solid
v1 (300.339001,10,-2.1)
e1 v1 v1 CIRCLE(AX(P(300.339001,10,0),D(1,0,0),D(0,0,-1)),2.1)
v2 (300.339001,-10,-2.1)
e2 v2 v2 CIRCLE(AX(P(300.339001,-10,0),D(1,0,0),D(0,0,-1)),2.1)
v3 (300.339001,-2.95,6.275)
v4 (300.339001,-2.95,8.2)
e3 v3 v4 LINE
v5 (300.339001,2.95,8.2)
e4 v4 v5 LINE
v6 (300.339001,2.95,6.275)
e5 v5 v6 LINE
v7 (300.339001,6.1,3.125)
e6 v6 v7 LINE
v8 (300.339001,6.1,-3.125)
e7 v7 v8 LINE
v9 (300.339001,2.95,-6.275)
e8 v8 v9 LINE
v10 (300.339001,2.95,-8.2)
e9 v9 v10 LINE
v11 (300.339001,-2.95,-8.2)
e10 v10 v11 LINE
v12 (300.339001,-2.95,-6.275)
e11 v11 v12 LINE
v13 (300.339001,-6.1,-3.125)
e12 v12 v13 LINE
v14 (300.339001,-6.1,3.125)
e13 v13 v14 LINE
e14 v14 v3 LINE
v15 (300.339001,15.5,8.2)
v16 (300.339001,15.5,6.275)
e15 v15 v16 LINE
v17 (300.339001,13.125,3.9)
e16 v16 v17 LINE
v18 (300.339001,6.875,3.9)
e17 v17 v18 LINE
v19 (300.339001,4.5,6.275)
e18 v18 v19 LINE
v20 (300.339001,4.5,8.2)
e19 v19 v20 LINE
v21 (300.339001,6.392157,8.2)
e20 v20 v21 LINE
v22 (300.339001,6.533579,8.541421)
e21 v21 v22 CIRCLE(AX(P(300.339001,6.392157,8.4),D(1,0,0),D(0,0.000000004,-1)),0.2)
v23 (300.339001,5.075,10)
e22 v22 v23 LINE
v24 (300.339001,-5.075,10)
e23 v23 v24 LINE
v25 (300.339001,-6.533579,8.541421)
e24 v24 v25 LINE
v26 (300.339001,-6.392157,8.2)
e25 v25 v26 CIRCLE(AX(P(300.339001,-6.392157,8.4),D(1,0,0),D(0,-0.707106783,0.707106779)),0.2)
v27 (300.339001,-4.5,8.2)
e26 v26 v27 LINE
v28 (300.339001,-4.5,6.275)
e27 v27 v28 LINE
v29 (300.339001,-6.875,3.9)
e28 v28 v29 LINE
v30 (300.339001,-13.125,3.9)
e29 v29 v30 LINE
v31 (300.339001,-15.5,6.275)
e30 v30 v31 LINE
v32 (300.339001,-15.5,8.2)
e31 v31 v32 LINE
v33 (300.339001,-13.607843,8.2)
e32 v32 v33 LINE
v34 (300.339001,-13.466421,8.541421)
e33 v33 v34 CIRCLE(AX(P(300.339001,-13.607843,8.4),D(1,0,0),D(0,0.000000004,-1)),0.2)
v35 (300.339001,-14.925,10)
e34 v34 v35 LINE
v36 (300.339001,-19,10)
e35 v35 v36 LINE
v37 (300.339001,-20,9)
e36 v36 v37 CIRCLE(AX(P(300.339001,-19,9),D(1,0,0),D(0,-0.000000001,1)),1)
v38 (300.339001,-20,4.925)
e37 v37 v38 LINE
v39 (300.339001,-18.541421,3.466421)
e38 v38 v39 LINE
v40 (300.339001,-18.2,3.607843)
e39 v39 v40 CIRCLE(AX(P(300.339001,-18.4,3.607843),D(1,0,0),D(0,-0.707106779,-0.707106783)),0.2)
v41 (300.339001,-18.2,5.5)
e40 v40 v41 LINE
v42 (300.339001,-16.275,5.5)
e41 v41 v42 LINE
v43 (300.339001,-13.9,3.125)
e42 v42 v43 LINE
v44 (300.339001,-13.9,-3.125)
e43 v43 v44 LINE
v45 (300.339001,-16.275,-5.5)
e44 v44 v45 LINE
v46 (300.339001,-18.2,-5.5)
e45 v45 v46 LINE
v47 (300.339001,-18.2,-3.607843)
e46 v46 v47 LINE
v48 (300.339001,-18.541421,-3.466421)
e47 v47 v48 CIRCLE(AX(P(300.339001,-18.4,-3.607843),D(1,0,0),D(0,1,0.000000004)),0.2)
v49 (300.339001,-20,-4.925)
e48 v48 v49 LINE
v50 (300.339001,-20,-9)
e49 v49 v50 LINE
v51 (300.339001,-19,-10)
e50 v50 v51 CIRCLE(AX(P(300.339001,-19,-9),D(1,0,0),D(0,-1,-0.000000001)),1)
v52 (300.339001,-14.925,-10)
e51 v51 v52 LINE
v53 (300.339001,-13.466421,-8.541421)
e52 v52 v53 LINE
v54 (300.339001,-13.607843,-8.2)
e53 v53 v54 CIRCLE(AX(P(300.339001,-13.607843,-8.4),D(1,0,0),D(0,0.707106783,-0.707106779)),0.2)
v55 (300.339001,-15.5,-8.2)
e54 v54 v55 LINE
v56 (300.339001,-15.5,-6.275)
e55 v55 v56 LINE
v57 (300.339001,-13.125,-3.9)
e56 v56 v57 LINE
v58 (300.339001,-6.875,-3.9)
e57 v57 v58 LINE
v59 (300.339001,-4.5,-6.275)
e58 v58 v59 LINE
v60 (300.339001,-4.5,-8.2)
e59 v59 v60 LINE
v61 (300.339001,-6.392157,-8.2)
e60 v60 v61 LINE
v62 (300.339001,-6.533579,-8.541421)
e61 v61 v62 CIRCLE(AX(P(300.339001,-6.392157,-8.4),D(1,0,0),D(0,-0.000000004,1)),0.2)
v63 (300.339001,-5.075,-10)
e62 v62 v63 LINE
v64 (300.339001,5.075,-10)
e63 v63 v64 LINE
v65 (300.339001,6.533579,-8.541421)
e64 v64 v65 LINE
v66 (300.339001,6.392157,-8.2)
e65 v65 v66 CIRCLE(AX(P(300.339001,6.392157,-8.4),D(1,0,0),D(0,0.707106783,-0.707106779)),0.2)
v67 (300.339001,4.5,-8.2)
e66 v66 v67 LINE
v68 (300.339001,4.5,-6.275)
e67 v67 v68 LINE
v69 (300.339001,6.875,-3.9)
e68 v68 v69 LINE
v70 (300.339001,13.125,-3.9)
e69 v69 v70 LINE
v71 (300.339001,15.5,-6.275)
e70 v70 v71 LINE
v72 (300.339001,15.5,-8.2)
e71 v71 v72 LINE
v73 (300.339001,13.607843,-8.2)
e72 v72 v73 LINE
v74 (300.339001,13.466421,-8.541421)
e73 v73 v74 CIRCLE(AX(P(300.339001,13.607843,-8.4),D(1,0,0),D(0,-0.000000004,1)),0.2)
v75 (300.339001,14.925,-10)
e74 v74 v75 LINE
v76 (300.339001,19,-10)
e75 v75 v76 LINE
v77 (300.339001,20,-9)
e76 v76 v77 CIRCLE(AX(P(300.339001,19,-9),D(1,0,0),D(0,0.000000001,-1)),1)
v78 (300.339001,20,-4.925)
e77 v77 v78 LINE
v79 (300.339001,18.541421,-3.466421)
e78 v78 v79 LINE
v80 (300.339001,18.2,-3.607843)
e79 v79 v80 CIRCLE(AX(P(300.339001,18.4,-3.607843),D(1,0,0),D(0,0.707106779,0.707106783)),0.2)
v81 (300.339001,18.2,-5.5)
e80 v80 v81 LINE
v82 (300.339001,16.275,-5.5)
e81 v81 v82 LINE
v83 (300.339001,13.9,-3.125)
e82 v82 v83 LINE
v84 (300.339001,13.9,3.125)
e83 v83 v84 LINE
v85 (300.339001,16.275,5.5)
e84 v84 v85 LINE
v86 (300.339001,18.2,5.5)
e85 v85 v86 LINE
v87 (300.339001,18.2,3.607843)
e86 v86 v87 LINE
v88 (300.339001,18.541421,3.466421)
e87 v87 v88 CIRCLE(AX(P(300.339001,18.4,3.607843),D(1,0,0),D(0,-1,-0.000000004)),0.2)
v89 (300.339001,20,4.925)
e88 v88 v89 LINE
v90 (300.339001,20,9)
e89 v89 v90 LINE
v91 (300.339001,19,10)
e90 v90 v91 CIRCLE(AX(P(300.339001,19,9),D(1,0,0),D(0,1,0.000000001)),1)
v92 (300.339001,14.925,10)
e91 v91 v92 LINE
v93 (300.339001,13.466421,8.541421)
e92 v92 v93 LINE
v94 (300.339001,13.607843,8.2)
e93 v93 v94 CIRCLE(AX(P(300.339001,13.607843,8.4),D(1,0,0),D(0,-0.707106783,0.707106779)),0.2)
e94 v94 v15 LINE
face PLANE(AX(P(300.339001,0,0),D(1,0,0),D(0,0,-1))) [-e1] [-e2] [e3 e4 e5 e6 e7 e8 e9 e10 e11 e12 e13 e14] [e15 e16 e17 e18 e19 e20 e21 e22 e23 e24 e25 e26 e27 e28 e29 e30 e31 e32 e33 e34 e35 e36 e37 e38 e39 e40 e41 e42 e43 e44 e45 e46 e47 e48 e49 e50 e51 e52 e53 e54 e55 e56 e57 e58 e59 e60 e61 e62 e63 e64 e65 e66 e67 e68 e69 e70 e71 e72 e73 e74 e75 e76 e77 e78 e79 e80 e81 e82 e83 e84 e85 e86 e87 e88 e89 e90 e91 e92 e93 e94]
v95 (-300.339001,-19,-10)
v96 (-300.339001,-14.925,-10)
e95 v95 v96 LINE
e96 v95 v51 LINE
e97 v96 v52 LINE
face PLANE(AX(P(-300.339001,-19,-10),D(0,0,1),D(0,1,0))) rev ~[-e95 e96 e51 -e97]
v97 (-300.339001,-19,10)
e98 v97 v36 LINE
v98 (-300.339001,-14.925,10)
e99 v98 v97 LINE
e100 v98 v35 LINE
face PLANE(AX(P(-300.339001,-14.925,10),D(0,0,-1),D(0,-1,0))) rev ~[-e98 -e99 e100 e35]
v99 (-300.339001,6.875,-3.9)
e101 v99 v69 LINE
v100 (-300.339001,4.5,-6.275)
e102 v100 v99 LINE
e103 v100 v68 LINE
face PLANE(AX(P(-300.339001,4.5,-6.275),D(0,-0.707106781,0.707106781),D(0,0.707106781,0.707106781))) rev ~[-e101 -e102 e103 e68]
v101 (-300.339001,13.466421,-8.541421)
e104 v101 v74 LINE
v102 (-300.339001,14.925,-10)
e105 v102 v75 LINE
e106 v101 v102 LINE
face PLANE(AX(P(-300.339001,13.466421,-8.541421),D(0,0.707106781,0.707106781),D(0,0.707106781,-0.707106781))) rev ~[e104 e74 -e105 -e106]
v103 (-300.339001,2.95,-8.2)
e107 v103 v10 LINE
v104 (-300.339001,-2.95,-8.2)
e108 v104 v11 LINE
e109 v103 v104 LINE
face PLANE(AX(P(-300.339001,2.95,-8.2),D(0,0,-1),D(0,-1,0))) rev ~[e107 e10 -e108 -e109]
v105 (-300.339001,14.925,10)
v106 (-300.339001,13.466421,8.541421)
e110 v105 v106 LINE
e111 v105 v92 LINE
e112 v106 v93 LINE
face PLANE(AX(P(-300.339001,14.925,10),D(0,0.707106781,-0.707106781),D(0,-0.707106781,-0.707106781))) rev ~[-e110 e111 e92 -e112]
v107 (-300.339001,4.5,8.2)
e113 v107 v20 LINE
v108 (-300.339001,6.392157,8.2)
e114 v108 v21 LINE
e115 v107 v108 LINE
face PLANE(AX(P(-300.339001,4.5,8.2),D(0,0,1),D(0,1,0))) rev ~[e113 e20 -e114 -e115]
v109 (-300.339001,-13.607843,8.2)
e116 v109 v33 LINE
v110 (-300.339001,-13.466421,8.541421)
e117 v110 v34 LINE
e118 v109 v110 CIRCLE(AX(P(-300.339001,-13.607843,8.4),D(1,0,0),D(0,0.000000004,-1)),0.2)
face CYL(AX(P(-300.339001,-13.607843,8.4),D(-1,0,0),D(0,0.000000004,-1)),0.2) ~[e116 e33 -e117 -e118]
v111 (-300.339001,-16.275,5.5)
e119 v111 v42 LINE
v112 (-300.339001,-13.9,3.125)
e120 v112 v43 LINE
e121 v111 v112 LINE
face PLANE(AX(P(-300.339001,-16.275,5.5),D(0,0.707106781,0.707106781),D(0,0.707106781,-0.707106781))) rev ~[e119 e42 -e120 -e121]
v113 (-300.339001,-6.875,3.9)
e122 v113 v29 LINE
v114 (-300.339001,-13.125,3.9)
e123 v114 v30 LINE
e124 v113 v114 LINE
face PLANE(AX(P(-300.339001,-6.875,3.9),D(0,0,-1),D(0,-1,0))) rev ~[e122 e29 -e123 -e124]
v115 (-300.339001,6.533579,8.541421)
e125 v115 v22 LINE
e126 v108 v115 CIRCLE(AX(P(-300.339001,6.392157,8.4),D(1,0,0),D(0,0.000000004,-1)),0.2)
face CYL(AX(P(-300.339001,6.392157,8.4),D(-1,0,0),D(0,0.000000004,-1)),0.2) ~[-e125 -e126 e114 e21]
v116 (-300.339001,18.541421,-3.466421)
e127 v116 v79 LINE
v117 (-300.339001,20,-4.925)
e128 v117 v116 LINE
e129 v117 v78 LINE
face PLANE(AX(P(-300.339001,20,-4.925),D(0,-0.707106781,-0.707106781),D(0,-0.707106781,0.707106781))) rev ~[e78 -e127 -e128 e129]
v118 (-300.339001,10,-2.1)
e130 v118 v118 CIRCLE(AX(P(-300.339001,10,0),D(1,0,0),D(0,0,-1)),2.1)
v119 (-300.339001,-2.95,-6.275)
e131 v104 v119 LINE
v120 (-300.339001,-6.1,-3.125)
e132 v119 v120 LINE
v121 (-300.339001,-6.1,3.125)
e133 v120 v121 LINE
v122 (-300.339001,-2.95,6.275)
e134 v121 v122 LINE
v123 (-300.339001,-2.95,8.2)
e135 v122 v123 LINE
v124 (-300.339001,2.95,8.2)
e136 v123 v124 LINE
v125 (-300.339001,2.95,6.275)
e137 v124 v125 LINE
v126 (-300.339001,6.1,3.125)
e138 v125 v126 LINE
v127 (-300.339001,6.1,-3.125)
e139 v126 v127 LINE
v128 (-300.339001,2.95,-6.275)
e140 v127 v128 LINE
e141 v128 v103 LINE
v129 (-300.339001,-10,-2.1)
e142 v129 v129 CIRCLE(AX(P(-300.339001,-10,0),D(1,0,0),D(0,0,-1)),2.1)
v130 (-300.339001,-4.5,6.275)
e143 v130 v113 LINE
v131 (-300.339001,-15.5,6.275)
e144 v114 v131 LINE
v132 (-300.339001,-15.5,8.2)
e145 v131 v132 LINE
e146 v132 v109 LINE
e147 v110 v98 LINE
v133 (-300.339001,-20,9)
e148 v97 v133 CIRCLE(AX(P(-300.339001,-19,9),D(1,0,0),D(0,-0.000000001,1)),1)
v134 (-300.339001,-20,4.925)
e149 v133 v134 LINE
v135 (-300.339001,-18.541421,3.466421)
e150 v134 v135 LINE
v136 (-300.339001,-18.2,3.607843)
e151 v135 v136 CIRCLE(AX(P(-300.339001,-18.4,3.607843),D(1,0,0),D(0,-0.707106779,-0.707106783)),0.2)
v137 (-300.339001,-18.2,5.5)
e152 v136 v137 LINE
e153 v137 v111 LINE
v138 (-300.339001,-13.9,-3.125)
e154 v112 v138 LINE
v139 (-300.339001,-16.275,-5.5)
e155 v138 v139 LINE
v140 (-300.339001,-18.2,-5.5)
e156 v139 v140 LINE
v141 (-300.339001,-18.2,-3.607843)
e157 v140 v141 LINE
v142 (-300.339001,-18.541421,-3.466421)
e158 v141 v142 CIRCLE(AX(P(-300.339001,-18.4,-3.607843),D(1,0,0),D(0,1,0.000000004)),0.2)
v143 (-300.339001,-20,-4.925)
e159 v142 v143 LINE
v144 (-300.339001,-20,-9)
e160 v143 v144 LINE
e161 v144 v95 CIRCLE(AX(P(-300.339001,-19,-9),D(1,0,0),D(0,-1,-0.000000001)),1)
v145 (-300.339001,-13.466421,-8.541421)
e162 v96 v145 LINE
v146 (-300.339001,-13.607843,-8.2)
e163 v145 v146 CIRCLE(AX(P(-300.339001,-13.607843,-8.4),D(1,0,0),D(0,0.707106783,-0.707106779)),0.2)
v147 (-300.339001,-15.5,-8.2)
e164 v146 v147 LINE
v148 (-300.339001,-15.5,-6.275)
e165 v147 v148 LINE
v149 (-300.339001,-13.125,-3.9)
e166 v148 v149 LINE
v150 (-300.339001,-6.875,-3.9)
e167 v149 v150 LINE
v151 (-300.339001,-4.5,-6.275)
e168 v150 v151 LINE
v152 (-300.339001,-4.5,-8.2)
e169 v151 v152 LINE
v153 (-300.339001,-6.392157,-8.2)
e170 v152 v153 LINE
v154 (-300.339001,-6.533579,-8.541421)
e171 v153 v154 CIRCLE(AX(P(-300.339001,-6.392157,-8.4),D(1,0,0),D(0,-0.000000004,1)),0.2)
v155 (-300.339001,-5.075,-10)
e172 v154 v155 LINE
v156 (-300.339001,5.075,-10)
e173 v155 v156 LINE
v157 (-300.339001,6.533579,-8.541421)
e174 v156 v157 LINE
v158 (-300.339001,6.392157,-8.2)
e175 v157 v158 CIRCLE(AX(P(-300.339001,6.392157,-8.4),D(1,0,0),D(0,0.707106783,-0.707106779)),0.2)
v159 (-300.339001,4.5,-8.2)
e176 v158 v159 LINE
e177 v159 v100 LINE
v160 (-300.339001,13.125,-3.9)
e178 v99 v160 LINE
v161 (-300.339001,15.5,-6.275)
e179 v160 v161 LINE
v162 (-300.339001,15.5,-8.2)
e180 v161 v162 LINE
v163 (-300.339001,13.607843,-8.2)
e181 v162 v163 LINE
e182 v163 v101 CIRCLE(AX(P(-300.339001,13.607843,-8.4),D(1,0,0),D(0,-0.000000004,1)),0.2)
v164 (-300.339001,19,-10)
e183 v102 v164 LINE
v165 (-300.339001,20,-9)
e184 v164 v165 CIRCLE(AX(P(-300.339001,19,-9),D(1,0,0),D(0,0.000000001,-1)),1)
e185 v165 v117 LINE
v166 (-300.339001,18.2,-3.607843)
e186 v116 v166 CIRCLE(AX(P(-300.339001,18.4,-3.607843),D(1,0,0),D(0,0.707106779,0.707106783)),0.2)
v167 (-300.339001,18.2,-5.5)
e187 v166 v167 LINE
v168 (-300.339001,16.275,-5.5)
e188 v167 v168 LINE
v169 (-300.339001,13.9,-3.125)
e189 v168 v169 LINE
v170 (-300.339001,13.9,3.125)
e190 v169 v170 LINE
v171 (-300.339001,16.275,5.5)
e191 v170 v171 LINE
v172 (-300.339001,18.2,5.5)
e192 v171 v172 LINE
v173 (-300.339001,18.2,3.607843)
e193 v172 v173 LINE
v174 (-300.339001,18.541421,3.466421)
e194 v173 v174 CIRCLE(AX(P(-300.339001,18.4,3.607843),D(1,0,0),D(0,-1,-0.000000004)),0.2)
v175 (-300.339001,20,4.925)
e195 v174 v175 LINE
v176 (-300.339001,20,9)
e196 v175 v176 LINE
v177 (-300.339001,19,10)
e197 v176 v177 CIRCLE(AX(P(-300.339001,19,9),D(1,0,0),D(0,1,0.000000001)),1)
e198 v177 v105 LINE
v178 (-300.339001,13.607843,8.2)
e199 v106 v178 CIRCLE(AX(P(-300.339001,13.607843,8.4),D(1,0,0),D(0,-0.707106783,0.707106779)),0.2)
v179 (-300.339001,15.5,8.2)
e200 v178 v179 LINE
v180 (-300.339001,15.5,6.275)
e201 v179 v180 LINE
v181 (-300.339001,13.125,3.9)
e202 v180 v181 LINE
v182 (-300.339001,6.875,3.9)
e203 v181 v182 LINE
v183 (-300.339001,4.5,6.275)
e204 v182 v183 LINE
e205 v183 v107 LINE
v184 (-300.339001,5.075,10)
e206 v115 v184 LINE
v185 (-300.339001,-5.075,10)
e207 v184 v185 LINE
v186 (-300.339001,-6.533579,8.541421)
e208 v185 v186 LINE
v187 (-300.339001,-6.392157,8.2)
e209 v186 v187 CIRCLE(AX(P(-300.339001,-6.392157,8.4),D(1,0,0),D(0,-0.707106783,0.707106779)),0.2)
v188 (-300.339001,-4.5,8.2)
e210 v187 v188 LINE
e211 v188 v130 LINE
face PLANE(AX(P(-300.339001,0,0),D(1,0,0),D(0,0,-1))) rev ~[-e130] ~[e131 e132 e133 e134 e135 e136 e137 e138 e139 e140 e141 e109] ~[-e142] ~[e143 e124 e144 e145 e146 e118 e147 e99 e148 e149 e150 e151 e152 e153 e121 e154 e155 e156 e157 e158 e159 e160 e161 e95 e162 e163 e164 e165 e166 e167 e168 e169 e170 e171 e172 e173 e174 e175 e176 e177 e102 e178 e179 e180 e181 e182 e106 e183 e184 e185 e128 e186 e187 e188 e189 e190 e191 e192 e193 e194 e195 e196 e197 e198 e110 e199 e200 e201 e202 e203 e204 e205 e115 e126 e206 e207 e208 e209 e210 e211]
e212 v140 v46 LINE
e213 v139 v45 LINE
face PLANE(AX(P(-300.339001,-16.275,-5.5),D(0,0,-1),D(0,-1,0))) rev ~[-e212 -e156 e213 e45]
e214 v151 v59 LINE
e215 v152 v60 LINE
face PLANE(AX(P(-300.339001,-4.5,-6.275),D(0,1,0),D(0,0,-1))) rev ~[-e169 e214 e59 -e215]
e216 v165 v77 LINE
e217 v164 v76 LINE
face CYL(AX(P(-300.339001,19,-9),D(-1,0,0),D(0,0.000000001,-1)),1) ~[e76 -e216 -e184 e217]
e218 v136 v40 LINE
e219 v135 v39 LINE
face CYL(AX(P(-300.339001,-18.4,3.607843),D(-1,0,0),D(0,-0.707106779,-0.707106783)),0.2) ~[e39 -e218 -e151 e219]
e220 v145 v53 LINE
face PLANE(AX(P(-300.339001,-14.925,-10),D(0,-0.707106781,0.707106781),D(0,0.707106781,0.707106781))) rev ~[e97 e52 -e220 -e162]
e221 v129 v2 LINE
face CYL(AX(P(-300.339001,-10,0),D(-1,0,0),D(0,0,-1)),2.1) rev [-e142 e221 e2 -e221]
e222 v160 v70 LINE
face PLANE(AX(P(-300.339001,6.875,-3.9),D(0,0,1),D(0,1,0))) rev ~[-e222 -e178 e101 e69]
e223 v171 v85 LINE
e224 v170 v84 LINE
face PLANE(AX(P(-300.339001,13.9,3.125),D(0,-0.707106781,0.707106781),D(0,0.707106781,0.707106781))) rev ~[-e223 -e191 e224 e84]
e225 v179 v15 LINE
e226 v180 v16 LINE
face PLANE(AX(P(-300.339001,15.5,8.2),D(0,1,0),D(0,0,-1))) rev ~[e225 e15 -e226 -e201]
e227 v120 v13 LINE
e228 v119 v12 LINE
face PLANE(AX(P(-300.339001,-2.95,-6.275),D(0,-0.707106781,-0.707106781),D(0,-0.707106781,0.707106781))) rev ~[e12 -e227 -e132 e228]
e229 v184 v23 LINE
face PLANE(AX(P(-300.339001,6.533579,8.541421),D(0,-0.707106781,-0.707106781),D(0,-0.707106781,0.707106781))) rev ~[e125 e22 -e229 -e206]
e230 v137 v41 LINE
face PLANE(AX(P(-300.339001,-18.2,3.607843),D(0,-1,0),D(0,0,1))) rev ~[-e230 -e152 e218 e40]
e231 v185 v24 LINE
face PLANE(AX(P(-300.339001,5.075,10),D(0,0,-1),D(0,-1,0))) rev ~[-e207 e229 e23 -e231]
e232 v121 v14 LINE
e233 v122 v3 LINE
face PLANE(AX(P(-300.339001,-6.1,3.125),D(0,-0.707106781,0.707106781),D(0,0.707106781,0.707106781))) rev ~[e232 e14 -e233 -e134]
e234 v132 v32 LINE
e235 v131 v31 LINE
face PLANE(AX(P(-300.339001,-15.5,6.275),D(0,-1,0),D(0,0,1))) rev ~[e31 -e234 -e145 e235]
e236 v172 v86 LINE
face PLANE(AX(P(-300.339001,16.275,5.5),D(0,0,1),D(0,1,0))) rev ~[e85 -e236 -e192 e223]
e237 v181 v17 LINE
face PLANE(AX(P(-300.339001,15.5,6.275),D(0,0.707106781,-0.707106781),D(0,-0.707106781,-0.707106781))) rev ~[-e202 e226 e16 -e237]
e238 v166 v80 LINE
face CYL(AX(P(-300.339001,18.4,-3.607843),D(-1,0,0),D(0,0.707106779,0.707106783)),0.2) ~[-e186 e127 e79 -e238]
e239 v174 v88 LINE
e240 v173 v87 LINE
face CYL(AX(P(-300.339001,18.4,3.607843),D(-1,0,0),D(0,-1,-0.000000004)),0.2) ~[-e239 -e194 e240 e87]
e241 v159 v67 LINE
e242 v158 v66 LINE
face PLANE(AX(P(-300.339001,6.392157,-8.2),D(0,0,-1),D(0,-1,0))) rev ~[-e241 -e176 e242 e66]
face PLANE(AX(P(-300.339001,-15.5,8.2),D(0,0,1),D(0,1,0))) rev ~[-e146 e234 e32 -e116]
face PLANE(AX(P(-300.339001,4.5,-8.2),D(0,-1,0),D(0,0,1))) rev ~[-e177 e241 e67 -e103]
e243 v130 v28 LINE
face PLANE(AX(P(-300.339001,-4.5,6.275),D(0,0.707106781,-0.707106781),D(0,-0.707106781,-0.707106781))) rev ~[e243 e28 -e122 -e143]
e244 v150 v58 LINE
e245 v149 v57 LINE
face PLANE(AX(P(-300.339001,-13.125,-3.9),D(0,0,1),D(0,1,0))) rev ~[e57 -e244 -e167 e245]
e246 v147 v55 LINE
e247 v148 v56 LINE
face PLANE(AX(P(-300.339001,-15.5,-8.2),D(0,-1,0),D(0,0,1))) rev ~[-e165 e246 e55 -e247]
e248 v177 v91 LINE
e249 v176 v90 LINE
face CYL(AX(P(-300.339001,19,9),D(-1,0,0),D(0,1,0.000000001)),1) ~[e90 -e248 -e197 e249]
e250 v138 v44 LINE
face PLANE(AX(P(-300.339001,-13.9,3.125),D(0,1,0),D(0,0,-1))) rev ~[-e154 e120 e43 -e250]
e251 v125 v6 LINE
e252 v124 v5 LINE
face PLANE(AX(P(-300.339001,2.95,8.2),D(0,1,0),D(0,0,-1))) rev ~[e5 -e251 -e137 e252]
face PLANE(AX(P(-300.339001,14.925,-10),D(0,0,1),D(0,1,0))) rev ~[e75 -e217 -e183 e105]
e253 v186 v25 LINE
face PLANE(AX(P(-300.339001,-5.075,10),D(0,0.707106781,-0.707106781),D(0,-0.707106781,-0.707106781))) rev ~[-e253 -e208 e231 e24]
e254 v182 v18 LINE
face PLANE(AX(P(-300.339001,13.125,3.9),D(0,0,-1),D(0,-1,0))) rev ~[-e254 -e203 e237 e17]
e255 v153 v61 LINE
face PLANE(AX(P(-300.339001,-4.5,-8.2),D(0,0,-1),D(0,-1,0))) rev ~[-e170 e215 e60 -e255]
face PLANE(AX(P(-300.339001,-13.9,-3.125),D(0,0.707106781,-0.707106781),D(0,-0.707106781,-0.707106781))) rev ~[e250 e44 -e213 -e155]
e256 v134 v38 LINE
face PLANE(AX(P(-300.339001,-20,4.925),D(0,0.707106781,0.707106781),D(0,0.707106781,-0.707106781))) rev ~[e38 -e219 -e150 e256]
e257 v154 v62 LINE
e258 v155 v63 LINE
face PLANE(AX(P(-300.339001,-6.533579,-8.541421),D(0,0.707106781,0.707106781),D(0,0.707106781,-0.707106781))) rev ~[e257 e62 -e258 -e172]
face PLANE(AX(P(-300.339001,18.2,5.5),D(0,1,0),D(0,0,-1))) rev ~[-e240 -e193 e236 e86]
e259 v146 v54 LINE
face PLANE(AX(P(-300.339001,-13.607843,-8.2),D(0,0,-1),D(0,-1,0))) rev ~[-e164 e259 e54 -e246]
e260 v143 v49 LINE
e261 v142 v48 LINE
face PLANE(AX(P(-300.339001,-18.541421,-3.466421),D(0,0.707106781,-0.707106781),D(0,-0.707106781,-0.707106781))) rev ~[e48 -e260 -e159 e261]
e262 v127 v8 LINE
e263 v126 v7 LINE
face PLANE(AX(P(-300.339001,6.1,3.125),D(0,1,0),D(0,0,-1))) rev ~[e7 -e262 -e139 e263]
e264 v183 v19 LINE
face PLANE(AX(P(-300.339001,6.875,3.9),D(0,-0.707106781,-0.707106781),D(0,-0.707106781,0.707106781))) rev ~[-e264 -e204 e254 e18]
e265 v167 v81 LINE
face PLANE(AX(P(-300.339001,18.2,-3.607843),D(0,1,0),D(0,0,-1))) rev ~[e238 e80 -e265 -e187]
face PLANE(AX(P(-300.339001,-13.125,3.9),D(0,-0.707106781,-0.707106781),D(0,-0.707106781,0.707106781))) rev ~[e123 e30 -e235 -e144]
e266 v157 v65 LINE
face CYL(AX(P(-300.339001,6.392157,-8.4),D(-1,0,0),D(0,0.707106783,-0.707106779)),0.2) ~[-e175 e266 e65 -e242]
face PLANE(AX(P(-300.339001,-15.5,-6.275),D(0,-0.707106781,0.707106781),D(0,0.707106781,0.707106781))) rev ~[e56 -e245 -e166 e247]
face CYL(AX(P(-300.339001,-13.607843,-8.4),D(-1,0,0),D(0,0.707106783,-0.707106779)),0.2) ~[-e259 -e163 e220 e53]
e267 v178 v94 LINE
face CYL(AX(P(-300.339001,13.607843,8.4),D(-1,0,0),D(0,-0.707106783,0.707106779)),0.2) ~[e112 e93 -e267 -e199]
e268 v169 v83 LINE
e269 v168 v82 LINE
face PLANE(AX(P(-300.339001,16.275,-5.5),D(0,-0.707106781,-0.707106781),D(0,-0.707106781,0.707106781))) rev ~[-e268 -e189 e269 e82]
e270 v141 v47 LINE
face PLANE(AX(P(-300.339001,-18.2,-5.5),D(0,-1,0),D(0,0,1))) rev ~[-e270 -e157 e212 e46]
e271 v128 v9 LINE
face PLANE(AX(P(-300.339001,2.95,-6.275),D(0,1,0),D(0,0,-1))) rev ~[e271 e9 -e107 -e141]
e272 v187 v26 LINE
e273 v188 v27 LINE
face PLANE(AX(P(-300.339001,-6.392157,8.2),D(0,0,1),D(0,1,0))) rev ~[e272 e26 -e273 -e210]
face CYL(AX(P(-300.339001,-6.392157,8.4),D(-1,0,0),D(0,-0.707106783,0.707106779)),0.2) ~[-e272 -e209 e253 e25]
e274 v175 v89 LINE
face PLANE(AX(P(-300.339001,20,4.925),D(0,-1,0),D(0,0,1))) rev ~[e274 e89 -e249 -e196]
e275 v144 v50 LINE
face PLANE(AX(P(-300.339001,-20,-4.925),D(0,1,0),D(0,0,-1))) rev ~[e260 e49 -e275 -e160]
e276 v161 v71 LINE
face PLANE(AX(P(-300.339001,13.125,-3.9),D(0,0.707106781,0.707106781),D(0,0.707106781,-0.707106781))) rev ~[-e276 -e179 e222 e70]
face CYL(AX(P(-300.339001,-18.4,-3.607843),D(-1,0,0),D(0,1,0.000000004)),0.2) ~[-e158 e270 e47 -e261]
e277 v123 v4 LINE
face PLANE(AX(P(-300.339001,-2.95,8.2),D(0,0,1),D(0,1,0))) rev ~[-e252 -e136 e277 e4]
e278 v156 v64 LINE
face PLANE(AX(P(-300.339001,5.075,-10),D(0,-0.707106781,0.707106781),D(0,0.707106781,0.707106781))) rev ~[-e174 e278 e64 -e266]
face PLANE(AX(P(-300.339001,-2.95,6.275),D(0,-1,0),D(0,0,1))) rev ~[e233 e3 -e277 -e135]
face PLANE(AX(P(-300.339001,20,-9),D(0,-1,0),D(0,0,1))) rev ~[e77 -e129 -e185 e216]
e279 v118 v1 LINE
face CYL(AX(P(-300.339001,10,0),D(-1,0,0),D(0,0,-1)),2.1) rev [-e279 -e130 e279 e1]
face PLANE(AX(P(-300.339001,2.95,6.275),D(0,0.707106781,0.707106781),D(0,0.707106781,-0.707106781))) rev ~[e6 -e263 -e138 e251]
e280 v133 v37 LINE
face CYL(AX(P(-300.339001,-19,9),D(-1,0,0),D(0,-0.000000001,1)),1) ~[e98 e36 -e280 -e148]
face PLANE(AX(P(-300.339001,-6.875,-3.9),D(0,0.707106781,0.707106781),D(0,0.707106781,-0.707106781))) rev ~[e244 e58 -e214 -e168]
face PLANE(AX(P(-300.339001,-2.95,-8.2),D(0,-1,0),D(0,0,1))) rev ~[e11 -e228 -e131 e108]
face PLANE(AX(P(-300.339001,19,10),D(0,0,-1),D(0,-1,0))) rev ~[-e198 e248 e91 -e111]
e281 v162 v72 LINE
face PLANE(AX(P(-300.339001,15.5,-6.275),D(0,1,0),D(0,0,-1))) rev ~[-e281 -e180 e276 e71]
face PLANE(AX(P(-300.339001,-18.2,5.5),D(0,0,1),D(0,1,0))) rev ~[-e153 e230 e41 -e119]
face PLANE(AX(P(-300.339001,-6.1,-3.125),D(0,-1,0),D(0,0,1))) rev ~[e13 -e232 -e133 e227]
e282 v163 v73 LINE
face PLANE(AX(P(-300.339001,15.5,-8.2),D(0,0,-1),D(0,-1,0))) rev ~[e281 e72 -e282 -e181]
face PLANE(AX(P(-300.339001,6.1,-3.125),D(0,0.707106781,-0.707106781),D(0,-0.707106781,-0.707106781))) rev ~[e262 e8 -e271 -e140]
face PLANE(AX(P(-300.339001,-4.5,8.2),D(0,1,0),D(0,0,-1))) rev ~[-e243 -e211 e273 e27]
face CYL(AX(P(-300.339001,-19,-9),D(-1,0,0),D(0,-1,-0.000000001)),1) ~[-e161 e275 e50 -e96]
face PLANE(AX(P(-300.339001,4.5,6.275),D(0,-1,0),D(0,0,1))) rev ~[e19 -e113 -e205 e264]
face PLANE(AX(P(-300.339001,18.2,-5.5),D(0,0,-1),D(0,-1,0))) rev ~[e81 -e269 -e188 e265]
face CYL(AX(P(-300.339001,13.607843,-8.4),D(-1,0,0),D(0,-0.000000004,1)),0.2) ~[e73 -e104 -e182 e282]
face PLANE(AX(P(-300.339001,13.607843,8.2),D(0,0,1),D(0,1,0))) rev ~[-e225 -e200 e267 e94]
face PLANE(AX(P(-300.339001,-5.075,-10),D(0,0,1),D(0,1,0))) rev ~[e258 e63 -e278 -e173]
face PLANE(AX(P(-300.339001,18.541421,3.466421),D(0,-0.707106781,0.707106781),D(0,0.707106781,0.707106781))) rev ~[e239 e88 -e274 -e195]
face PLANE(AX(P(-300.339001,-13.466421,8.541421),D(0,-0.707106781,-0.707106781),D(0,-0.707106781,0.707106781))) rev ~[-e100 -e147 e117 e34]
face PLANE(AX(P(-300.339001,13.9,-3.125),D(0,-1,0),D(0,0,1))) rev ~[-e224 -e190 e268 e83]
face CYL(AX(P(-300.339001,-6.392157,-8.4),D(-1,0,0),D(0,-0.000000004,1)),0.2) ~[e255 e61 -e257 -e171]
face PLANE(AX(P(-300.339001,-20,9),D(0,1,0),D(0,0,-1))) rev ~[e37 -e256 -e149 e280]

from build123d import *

# Parameters (mm, degrees)
SKETCH11_R             = 2.1
VSLOT2040_2040_1_DEPTH = 600.67800108


with BuildPart() as part:
    # Sketch11 → Vslot2040 2040(1) (new body)
    with BuildSketch(Plane(origin=(-300.33900054, 0, 0), x_dir=(0, 0, -1), z_dir=(1, 0, 0))):
        with BuildLine():
            Line((5.5, -18.2), (3.607842712, -18.2))
            ThreePointArc((3.607842712, -18.2), (3.423066806, -18.323463314), (3.466421356, -18.541421356))
            Line((3.466421356, -18.541421356), (4.925, -20))
            Line((4.925, -20), (9, -20))
            ThreePointArc((9, -20), (9.707106781, -19.707106781), (10, -19))
            Line((10, -19), (10, -14.925))
            Line((10, -14.925), (8.541421356, -13.466421356))
            ThreePointArc((8.541421356, -13.466421356), (8.323463314, -13.423066806), (8.2, -13.607842712))
            Line((8.2, -13.607842712), (8.2, -15.5))
            Line((8.2, -15.5), (6.275, -15.5))
            Line((6.275, -15.5), (3.9, -13.125))
            Line((3.9, -13.125), (3.9, -6.875))
            Line((3.9, -6.875), (6.275, -4.5))
            Line((6.275, -4.5), (8.2, -4.5))
            Line((8.2, -4.5), (8.2, -6.392157288))
            ThreePointArc((8.2, -6.392157288), (8.323463314, -6.576933194), (8.541421356, -6.533578644))
            Line((8.541421356, -6.533578644), (10, -5.075))
            Line((10, -5.075), (10, 5.075))
            Line((10, 5.075), (8.541421356, 6.533578644))
            ThreePointArc((8.541421356, 6.533578644), (8.323463314, 6.576933194), (8.2, 6.392157288))
            Line((8.2, 6.392157288), (8.2, 4.5))
            Line((8.2, 4.5), (6.275, 4.5))
            Line((6.275, 4.5), (3.9, 6.875))
            Line((3.9, 6.875), (3.9, 13.125))
            Line((3.9, 13.125), (6.275, 15.5))
            Line((6.275, 15.5), (8.2, 15.5))
            Line((8.2, 15.5), (8.2, 13.607842712))
            ThreePointArc((8.2, 13.607842712), (8.323463314, 13.423066806), (8.541421356, 13.466421356))
            Line((8.541421356, 13.466421356), (10, 14.925))
            Line((10, 14.925), (10, 19))
            ThreePointArc((10, 19), (9.707106781, 19.707106781), (9, 20))
            Line((9, 20), (4.925, 20))
            Line((4.925, 20), (3.466421356, 18.541421356))
            ThreePointArc((3.466421356, 18.541421356), (3.423066806, 18.323463314), (3.607842712, 18.2))
            Line((3.607842712, 18.2), (5.5, 18.2))
            Line((5.5, 18.2), (5.5, 16.275))
            Line((5.5, 16.275), (3.125, 13.9))
            Line((3.125, 13.9), (-3.125, 13.9))
            Line((-3.125, 13.9), (-5.5, 16.275))
            Line((-5.5, 16.275), (-5.5, 18.2))
            Line((-5.5, 18.2), (-3.607842712, 18.2))
            ThreePointArc((-3.607842712, 18.2), (-3.423066806, 18.323463314), (-3.466421356, 18.541421356))
            Line((-3.466421356, 18.541421356), (-4.925, 20))
            Line((-4.925, 20), (-9, 20))
            ThreePointArc((-9, 20), (-9.707106781, 19.707106781), (-10, 19))
            Line((-10, 19), (-10, 14.925))
            Line((-10, 14.925), (-8.541421356, 13.466421356))
            ThreePointArc((-8.541421356, 13.466421356), (-8.323463314, 13.423066806), (-8.2, 13.607842712))
            Line((-8.2, 13.607842712), (-8.2, 15.5))
            Line((-8.2, 15.5), (-6.275, 15.5))
            Line((-6.275, 15.5), (-3.9, 13.125))
            Line((-3.9, 13.125), (-3.9, 6.875))
            Line((-3.9, 6.875), (-6.275, 4.5))
            Line((-6.275, 4.5), (-8.2, 4.5))
            Line((-8.2, 4.5), (-8.2, 6.392157288))
            ThreePointArc((-8.2, 6.392157288), (-8.323463314, 6.576933194), (-8.541421356, 6.533578644))
            Line((-8.541421356, 6.533578644), (-10, 5.075))
            Line((-10, 5.075), (-10, -5.075))
            Line((-10, -5.075), (-8.541421356, -6.533578644))
            ThreePointArc((-8.541421356, -6.533578644), (-8.323463314, -6.576933194), (-8.2, -6.392157288))
            Line((-8.2, -6.392157288), (-8.2, -4.5))
            Line((-8.2, -4.5), (-6.275, -4.5))
            Line((-6.275, -4.5), (-3.9, -6.875))
            Line((-3.9, -6.875), (-3.9, -13.125))
            Line((-3.9, -13.125), (-6.275, -15.5))
            Line((-6.275, -15.5), (-8.2, -15.5))
            Line((-8.2, -15.5), (-8.2, -13.607842712))
            ThreePointArc((-8.2, -13.607842712), (-8.323463314, -13.423066806), (-8.541421356, -13.466421356))
            Line((-8.541421356, -13.466421356), (-10, -14.925))
            Line((-10, -14.925), (-10, -19))
            ThreePointArc((-10, -19), (-9.707106781, -19.707106781), (-9, -20))
            Line((-9, -20), (-4.925, -20))
            Line((-4.925, -20), (-3.466421356, -18.541421356))
            ThreePointArc((-3.466421356, -18.541421356), (-3.423066806, -18.323463314), (-3.607842712, -18.2))
            Line((-3.607842712, -18.2), (-5.5, -18.2))
            Line((-5.5, -18.2), (-5.5, -16.275))
            Line((-5.5, -16.275), (-3.125, -13.9))
            Line((-3.125, -13.9), (3.125, -13.9))
            Line((3.125, -13.9), (5.5, -16.275))
            Line((5.5, -16.275), (5.5, -18.2))
        make_face()
        with Locations((0, -10)):
            Circle(SKETCH11_R, mode=Mode.SUBTRACT)
        with Locations((0, 10)):
            Circle(SKETCH11_R, mode=Mode.SUBTRACT)
        Polygon((3.125, 6.1), (6.275, 2.95), (8.2, 2.95), (8.2, -2.95), (6.275, -2.95), (3.125, -6.1), (-3.125, -6.1), (-6.275, -2.95), (-8.2, -2.95), (-8.2, 2.95), (-6.275, 2.95), (-3.125, 6.1), align=None, mode=Mode.SUBTRACT)
    extrude(amount=VSLOT2040_2040_1_DEPTH)


solid = part.part
